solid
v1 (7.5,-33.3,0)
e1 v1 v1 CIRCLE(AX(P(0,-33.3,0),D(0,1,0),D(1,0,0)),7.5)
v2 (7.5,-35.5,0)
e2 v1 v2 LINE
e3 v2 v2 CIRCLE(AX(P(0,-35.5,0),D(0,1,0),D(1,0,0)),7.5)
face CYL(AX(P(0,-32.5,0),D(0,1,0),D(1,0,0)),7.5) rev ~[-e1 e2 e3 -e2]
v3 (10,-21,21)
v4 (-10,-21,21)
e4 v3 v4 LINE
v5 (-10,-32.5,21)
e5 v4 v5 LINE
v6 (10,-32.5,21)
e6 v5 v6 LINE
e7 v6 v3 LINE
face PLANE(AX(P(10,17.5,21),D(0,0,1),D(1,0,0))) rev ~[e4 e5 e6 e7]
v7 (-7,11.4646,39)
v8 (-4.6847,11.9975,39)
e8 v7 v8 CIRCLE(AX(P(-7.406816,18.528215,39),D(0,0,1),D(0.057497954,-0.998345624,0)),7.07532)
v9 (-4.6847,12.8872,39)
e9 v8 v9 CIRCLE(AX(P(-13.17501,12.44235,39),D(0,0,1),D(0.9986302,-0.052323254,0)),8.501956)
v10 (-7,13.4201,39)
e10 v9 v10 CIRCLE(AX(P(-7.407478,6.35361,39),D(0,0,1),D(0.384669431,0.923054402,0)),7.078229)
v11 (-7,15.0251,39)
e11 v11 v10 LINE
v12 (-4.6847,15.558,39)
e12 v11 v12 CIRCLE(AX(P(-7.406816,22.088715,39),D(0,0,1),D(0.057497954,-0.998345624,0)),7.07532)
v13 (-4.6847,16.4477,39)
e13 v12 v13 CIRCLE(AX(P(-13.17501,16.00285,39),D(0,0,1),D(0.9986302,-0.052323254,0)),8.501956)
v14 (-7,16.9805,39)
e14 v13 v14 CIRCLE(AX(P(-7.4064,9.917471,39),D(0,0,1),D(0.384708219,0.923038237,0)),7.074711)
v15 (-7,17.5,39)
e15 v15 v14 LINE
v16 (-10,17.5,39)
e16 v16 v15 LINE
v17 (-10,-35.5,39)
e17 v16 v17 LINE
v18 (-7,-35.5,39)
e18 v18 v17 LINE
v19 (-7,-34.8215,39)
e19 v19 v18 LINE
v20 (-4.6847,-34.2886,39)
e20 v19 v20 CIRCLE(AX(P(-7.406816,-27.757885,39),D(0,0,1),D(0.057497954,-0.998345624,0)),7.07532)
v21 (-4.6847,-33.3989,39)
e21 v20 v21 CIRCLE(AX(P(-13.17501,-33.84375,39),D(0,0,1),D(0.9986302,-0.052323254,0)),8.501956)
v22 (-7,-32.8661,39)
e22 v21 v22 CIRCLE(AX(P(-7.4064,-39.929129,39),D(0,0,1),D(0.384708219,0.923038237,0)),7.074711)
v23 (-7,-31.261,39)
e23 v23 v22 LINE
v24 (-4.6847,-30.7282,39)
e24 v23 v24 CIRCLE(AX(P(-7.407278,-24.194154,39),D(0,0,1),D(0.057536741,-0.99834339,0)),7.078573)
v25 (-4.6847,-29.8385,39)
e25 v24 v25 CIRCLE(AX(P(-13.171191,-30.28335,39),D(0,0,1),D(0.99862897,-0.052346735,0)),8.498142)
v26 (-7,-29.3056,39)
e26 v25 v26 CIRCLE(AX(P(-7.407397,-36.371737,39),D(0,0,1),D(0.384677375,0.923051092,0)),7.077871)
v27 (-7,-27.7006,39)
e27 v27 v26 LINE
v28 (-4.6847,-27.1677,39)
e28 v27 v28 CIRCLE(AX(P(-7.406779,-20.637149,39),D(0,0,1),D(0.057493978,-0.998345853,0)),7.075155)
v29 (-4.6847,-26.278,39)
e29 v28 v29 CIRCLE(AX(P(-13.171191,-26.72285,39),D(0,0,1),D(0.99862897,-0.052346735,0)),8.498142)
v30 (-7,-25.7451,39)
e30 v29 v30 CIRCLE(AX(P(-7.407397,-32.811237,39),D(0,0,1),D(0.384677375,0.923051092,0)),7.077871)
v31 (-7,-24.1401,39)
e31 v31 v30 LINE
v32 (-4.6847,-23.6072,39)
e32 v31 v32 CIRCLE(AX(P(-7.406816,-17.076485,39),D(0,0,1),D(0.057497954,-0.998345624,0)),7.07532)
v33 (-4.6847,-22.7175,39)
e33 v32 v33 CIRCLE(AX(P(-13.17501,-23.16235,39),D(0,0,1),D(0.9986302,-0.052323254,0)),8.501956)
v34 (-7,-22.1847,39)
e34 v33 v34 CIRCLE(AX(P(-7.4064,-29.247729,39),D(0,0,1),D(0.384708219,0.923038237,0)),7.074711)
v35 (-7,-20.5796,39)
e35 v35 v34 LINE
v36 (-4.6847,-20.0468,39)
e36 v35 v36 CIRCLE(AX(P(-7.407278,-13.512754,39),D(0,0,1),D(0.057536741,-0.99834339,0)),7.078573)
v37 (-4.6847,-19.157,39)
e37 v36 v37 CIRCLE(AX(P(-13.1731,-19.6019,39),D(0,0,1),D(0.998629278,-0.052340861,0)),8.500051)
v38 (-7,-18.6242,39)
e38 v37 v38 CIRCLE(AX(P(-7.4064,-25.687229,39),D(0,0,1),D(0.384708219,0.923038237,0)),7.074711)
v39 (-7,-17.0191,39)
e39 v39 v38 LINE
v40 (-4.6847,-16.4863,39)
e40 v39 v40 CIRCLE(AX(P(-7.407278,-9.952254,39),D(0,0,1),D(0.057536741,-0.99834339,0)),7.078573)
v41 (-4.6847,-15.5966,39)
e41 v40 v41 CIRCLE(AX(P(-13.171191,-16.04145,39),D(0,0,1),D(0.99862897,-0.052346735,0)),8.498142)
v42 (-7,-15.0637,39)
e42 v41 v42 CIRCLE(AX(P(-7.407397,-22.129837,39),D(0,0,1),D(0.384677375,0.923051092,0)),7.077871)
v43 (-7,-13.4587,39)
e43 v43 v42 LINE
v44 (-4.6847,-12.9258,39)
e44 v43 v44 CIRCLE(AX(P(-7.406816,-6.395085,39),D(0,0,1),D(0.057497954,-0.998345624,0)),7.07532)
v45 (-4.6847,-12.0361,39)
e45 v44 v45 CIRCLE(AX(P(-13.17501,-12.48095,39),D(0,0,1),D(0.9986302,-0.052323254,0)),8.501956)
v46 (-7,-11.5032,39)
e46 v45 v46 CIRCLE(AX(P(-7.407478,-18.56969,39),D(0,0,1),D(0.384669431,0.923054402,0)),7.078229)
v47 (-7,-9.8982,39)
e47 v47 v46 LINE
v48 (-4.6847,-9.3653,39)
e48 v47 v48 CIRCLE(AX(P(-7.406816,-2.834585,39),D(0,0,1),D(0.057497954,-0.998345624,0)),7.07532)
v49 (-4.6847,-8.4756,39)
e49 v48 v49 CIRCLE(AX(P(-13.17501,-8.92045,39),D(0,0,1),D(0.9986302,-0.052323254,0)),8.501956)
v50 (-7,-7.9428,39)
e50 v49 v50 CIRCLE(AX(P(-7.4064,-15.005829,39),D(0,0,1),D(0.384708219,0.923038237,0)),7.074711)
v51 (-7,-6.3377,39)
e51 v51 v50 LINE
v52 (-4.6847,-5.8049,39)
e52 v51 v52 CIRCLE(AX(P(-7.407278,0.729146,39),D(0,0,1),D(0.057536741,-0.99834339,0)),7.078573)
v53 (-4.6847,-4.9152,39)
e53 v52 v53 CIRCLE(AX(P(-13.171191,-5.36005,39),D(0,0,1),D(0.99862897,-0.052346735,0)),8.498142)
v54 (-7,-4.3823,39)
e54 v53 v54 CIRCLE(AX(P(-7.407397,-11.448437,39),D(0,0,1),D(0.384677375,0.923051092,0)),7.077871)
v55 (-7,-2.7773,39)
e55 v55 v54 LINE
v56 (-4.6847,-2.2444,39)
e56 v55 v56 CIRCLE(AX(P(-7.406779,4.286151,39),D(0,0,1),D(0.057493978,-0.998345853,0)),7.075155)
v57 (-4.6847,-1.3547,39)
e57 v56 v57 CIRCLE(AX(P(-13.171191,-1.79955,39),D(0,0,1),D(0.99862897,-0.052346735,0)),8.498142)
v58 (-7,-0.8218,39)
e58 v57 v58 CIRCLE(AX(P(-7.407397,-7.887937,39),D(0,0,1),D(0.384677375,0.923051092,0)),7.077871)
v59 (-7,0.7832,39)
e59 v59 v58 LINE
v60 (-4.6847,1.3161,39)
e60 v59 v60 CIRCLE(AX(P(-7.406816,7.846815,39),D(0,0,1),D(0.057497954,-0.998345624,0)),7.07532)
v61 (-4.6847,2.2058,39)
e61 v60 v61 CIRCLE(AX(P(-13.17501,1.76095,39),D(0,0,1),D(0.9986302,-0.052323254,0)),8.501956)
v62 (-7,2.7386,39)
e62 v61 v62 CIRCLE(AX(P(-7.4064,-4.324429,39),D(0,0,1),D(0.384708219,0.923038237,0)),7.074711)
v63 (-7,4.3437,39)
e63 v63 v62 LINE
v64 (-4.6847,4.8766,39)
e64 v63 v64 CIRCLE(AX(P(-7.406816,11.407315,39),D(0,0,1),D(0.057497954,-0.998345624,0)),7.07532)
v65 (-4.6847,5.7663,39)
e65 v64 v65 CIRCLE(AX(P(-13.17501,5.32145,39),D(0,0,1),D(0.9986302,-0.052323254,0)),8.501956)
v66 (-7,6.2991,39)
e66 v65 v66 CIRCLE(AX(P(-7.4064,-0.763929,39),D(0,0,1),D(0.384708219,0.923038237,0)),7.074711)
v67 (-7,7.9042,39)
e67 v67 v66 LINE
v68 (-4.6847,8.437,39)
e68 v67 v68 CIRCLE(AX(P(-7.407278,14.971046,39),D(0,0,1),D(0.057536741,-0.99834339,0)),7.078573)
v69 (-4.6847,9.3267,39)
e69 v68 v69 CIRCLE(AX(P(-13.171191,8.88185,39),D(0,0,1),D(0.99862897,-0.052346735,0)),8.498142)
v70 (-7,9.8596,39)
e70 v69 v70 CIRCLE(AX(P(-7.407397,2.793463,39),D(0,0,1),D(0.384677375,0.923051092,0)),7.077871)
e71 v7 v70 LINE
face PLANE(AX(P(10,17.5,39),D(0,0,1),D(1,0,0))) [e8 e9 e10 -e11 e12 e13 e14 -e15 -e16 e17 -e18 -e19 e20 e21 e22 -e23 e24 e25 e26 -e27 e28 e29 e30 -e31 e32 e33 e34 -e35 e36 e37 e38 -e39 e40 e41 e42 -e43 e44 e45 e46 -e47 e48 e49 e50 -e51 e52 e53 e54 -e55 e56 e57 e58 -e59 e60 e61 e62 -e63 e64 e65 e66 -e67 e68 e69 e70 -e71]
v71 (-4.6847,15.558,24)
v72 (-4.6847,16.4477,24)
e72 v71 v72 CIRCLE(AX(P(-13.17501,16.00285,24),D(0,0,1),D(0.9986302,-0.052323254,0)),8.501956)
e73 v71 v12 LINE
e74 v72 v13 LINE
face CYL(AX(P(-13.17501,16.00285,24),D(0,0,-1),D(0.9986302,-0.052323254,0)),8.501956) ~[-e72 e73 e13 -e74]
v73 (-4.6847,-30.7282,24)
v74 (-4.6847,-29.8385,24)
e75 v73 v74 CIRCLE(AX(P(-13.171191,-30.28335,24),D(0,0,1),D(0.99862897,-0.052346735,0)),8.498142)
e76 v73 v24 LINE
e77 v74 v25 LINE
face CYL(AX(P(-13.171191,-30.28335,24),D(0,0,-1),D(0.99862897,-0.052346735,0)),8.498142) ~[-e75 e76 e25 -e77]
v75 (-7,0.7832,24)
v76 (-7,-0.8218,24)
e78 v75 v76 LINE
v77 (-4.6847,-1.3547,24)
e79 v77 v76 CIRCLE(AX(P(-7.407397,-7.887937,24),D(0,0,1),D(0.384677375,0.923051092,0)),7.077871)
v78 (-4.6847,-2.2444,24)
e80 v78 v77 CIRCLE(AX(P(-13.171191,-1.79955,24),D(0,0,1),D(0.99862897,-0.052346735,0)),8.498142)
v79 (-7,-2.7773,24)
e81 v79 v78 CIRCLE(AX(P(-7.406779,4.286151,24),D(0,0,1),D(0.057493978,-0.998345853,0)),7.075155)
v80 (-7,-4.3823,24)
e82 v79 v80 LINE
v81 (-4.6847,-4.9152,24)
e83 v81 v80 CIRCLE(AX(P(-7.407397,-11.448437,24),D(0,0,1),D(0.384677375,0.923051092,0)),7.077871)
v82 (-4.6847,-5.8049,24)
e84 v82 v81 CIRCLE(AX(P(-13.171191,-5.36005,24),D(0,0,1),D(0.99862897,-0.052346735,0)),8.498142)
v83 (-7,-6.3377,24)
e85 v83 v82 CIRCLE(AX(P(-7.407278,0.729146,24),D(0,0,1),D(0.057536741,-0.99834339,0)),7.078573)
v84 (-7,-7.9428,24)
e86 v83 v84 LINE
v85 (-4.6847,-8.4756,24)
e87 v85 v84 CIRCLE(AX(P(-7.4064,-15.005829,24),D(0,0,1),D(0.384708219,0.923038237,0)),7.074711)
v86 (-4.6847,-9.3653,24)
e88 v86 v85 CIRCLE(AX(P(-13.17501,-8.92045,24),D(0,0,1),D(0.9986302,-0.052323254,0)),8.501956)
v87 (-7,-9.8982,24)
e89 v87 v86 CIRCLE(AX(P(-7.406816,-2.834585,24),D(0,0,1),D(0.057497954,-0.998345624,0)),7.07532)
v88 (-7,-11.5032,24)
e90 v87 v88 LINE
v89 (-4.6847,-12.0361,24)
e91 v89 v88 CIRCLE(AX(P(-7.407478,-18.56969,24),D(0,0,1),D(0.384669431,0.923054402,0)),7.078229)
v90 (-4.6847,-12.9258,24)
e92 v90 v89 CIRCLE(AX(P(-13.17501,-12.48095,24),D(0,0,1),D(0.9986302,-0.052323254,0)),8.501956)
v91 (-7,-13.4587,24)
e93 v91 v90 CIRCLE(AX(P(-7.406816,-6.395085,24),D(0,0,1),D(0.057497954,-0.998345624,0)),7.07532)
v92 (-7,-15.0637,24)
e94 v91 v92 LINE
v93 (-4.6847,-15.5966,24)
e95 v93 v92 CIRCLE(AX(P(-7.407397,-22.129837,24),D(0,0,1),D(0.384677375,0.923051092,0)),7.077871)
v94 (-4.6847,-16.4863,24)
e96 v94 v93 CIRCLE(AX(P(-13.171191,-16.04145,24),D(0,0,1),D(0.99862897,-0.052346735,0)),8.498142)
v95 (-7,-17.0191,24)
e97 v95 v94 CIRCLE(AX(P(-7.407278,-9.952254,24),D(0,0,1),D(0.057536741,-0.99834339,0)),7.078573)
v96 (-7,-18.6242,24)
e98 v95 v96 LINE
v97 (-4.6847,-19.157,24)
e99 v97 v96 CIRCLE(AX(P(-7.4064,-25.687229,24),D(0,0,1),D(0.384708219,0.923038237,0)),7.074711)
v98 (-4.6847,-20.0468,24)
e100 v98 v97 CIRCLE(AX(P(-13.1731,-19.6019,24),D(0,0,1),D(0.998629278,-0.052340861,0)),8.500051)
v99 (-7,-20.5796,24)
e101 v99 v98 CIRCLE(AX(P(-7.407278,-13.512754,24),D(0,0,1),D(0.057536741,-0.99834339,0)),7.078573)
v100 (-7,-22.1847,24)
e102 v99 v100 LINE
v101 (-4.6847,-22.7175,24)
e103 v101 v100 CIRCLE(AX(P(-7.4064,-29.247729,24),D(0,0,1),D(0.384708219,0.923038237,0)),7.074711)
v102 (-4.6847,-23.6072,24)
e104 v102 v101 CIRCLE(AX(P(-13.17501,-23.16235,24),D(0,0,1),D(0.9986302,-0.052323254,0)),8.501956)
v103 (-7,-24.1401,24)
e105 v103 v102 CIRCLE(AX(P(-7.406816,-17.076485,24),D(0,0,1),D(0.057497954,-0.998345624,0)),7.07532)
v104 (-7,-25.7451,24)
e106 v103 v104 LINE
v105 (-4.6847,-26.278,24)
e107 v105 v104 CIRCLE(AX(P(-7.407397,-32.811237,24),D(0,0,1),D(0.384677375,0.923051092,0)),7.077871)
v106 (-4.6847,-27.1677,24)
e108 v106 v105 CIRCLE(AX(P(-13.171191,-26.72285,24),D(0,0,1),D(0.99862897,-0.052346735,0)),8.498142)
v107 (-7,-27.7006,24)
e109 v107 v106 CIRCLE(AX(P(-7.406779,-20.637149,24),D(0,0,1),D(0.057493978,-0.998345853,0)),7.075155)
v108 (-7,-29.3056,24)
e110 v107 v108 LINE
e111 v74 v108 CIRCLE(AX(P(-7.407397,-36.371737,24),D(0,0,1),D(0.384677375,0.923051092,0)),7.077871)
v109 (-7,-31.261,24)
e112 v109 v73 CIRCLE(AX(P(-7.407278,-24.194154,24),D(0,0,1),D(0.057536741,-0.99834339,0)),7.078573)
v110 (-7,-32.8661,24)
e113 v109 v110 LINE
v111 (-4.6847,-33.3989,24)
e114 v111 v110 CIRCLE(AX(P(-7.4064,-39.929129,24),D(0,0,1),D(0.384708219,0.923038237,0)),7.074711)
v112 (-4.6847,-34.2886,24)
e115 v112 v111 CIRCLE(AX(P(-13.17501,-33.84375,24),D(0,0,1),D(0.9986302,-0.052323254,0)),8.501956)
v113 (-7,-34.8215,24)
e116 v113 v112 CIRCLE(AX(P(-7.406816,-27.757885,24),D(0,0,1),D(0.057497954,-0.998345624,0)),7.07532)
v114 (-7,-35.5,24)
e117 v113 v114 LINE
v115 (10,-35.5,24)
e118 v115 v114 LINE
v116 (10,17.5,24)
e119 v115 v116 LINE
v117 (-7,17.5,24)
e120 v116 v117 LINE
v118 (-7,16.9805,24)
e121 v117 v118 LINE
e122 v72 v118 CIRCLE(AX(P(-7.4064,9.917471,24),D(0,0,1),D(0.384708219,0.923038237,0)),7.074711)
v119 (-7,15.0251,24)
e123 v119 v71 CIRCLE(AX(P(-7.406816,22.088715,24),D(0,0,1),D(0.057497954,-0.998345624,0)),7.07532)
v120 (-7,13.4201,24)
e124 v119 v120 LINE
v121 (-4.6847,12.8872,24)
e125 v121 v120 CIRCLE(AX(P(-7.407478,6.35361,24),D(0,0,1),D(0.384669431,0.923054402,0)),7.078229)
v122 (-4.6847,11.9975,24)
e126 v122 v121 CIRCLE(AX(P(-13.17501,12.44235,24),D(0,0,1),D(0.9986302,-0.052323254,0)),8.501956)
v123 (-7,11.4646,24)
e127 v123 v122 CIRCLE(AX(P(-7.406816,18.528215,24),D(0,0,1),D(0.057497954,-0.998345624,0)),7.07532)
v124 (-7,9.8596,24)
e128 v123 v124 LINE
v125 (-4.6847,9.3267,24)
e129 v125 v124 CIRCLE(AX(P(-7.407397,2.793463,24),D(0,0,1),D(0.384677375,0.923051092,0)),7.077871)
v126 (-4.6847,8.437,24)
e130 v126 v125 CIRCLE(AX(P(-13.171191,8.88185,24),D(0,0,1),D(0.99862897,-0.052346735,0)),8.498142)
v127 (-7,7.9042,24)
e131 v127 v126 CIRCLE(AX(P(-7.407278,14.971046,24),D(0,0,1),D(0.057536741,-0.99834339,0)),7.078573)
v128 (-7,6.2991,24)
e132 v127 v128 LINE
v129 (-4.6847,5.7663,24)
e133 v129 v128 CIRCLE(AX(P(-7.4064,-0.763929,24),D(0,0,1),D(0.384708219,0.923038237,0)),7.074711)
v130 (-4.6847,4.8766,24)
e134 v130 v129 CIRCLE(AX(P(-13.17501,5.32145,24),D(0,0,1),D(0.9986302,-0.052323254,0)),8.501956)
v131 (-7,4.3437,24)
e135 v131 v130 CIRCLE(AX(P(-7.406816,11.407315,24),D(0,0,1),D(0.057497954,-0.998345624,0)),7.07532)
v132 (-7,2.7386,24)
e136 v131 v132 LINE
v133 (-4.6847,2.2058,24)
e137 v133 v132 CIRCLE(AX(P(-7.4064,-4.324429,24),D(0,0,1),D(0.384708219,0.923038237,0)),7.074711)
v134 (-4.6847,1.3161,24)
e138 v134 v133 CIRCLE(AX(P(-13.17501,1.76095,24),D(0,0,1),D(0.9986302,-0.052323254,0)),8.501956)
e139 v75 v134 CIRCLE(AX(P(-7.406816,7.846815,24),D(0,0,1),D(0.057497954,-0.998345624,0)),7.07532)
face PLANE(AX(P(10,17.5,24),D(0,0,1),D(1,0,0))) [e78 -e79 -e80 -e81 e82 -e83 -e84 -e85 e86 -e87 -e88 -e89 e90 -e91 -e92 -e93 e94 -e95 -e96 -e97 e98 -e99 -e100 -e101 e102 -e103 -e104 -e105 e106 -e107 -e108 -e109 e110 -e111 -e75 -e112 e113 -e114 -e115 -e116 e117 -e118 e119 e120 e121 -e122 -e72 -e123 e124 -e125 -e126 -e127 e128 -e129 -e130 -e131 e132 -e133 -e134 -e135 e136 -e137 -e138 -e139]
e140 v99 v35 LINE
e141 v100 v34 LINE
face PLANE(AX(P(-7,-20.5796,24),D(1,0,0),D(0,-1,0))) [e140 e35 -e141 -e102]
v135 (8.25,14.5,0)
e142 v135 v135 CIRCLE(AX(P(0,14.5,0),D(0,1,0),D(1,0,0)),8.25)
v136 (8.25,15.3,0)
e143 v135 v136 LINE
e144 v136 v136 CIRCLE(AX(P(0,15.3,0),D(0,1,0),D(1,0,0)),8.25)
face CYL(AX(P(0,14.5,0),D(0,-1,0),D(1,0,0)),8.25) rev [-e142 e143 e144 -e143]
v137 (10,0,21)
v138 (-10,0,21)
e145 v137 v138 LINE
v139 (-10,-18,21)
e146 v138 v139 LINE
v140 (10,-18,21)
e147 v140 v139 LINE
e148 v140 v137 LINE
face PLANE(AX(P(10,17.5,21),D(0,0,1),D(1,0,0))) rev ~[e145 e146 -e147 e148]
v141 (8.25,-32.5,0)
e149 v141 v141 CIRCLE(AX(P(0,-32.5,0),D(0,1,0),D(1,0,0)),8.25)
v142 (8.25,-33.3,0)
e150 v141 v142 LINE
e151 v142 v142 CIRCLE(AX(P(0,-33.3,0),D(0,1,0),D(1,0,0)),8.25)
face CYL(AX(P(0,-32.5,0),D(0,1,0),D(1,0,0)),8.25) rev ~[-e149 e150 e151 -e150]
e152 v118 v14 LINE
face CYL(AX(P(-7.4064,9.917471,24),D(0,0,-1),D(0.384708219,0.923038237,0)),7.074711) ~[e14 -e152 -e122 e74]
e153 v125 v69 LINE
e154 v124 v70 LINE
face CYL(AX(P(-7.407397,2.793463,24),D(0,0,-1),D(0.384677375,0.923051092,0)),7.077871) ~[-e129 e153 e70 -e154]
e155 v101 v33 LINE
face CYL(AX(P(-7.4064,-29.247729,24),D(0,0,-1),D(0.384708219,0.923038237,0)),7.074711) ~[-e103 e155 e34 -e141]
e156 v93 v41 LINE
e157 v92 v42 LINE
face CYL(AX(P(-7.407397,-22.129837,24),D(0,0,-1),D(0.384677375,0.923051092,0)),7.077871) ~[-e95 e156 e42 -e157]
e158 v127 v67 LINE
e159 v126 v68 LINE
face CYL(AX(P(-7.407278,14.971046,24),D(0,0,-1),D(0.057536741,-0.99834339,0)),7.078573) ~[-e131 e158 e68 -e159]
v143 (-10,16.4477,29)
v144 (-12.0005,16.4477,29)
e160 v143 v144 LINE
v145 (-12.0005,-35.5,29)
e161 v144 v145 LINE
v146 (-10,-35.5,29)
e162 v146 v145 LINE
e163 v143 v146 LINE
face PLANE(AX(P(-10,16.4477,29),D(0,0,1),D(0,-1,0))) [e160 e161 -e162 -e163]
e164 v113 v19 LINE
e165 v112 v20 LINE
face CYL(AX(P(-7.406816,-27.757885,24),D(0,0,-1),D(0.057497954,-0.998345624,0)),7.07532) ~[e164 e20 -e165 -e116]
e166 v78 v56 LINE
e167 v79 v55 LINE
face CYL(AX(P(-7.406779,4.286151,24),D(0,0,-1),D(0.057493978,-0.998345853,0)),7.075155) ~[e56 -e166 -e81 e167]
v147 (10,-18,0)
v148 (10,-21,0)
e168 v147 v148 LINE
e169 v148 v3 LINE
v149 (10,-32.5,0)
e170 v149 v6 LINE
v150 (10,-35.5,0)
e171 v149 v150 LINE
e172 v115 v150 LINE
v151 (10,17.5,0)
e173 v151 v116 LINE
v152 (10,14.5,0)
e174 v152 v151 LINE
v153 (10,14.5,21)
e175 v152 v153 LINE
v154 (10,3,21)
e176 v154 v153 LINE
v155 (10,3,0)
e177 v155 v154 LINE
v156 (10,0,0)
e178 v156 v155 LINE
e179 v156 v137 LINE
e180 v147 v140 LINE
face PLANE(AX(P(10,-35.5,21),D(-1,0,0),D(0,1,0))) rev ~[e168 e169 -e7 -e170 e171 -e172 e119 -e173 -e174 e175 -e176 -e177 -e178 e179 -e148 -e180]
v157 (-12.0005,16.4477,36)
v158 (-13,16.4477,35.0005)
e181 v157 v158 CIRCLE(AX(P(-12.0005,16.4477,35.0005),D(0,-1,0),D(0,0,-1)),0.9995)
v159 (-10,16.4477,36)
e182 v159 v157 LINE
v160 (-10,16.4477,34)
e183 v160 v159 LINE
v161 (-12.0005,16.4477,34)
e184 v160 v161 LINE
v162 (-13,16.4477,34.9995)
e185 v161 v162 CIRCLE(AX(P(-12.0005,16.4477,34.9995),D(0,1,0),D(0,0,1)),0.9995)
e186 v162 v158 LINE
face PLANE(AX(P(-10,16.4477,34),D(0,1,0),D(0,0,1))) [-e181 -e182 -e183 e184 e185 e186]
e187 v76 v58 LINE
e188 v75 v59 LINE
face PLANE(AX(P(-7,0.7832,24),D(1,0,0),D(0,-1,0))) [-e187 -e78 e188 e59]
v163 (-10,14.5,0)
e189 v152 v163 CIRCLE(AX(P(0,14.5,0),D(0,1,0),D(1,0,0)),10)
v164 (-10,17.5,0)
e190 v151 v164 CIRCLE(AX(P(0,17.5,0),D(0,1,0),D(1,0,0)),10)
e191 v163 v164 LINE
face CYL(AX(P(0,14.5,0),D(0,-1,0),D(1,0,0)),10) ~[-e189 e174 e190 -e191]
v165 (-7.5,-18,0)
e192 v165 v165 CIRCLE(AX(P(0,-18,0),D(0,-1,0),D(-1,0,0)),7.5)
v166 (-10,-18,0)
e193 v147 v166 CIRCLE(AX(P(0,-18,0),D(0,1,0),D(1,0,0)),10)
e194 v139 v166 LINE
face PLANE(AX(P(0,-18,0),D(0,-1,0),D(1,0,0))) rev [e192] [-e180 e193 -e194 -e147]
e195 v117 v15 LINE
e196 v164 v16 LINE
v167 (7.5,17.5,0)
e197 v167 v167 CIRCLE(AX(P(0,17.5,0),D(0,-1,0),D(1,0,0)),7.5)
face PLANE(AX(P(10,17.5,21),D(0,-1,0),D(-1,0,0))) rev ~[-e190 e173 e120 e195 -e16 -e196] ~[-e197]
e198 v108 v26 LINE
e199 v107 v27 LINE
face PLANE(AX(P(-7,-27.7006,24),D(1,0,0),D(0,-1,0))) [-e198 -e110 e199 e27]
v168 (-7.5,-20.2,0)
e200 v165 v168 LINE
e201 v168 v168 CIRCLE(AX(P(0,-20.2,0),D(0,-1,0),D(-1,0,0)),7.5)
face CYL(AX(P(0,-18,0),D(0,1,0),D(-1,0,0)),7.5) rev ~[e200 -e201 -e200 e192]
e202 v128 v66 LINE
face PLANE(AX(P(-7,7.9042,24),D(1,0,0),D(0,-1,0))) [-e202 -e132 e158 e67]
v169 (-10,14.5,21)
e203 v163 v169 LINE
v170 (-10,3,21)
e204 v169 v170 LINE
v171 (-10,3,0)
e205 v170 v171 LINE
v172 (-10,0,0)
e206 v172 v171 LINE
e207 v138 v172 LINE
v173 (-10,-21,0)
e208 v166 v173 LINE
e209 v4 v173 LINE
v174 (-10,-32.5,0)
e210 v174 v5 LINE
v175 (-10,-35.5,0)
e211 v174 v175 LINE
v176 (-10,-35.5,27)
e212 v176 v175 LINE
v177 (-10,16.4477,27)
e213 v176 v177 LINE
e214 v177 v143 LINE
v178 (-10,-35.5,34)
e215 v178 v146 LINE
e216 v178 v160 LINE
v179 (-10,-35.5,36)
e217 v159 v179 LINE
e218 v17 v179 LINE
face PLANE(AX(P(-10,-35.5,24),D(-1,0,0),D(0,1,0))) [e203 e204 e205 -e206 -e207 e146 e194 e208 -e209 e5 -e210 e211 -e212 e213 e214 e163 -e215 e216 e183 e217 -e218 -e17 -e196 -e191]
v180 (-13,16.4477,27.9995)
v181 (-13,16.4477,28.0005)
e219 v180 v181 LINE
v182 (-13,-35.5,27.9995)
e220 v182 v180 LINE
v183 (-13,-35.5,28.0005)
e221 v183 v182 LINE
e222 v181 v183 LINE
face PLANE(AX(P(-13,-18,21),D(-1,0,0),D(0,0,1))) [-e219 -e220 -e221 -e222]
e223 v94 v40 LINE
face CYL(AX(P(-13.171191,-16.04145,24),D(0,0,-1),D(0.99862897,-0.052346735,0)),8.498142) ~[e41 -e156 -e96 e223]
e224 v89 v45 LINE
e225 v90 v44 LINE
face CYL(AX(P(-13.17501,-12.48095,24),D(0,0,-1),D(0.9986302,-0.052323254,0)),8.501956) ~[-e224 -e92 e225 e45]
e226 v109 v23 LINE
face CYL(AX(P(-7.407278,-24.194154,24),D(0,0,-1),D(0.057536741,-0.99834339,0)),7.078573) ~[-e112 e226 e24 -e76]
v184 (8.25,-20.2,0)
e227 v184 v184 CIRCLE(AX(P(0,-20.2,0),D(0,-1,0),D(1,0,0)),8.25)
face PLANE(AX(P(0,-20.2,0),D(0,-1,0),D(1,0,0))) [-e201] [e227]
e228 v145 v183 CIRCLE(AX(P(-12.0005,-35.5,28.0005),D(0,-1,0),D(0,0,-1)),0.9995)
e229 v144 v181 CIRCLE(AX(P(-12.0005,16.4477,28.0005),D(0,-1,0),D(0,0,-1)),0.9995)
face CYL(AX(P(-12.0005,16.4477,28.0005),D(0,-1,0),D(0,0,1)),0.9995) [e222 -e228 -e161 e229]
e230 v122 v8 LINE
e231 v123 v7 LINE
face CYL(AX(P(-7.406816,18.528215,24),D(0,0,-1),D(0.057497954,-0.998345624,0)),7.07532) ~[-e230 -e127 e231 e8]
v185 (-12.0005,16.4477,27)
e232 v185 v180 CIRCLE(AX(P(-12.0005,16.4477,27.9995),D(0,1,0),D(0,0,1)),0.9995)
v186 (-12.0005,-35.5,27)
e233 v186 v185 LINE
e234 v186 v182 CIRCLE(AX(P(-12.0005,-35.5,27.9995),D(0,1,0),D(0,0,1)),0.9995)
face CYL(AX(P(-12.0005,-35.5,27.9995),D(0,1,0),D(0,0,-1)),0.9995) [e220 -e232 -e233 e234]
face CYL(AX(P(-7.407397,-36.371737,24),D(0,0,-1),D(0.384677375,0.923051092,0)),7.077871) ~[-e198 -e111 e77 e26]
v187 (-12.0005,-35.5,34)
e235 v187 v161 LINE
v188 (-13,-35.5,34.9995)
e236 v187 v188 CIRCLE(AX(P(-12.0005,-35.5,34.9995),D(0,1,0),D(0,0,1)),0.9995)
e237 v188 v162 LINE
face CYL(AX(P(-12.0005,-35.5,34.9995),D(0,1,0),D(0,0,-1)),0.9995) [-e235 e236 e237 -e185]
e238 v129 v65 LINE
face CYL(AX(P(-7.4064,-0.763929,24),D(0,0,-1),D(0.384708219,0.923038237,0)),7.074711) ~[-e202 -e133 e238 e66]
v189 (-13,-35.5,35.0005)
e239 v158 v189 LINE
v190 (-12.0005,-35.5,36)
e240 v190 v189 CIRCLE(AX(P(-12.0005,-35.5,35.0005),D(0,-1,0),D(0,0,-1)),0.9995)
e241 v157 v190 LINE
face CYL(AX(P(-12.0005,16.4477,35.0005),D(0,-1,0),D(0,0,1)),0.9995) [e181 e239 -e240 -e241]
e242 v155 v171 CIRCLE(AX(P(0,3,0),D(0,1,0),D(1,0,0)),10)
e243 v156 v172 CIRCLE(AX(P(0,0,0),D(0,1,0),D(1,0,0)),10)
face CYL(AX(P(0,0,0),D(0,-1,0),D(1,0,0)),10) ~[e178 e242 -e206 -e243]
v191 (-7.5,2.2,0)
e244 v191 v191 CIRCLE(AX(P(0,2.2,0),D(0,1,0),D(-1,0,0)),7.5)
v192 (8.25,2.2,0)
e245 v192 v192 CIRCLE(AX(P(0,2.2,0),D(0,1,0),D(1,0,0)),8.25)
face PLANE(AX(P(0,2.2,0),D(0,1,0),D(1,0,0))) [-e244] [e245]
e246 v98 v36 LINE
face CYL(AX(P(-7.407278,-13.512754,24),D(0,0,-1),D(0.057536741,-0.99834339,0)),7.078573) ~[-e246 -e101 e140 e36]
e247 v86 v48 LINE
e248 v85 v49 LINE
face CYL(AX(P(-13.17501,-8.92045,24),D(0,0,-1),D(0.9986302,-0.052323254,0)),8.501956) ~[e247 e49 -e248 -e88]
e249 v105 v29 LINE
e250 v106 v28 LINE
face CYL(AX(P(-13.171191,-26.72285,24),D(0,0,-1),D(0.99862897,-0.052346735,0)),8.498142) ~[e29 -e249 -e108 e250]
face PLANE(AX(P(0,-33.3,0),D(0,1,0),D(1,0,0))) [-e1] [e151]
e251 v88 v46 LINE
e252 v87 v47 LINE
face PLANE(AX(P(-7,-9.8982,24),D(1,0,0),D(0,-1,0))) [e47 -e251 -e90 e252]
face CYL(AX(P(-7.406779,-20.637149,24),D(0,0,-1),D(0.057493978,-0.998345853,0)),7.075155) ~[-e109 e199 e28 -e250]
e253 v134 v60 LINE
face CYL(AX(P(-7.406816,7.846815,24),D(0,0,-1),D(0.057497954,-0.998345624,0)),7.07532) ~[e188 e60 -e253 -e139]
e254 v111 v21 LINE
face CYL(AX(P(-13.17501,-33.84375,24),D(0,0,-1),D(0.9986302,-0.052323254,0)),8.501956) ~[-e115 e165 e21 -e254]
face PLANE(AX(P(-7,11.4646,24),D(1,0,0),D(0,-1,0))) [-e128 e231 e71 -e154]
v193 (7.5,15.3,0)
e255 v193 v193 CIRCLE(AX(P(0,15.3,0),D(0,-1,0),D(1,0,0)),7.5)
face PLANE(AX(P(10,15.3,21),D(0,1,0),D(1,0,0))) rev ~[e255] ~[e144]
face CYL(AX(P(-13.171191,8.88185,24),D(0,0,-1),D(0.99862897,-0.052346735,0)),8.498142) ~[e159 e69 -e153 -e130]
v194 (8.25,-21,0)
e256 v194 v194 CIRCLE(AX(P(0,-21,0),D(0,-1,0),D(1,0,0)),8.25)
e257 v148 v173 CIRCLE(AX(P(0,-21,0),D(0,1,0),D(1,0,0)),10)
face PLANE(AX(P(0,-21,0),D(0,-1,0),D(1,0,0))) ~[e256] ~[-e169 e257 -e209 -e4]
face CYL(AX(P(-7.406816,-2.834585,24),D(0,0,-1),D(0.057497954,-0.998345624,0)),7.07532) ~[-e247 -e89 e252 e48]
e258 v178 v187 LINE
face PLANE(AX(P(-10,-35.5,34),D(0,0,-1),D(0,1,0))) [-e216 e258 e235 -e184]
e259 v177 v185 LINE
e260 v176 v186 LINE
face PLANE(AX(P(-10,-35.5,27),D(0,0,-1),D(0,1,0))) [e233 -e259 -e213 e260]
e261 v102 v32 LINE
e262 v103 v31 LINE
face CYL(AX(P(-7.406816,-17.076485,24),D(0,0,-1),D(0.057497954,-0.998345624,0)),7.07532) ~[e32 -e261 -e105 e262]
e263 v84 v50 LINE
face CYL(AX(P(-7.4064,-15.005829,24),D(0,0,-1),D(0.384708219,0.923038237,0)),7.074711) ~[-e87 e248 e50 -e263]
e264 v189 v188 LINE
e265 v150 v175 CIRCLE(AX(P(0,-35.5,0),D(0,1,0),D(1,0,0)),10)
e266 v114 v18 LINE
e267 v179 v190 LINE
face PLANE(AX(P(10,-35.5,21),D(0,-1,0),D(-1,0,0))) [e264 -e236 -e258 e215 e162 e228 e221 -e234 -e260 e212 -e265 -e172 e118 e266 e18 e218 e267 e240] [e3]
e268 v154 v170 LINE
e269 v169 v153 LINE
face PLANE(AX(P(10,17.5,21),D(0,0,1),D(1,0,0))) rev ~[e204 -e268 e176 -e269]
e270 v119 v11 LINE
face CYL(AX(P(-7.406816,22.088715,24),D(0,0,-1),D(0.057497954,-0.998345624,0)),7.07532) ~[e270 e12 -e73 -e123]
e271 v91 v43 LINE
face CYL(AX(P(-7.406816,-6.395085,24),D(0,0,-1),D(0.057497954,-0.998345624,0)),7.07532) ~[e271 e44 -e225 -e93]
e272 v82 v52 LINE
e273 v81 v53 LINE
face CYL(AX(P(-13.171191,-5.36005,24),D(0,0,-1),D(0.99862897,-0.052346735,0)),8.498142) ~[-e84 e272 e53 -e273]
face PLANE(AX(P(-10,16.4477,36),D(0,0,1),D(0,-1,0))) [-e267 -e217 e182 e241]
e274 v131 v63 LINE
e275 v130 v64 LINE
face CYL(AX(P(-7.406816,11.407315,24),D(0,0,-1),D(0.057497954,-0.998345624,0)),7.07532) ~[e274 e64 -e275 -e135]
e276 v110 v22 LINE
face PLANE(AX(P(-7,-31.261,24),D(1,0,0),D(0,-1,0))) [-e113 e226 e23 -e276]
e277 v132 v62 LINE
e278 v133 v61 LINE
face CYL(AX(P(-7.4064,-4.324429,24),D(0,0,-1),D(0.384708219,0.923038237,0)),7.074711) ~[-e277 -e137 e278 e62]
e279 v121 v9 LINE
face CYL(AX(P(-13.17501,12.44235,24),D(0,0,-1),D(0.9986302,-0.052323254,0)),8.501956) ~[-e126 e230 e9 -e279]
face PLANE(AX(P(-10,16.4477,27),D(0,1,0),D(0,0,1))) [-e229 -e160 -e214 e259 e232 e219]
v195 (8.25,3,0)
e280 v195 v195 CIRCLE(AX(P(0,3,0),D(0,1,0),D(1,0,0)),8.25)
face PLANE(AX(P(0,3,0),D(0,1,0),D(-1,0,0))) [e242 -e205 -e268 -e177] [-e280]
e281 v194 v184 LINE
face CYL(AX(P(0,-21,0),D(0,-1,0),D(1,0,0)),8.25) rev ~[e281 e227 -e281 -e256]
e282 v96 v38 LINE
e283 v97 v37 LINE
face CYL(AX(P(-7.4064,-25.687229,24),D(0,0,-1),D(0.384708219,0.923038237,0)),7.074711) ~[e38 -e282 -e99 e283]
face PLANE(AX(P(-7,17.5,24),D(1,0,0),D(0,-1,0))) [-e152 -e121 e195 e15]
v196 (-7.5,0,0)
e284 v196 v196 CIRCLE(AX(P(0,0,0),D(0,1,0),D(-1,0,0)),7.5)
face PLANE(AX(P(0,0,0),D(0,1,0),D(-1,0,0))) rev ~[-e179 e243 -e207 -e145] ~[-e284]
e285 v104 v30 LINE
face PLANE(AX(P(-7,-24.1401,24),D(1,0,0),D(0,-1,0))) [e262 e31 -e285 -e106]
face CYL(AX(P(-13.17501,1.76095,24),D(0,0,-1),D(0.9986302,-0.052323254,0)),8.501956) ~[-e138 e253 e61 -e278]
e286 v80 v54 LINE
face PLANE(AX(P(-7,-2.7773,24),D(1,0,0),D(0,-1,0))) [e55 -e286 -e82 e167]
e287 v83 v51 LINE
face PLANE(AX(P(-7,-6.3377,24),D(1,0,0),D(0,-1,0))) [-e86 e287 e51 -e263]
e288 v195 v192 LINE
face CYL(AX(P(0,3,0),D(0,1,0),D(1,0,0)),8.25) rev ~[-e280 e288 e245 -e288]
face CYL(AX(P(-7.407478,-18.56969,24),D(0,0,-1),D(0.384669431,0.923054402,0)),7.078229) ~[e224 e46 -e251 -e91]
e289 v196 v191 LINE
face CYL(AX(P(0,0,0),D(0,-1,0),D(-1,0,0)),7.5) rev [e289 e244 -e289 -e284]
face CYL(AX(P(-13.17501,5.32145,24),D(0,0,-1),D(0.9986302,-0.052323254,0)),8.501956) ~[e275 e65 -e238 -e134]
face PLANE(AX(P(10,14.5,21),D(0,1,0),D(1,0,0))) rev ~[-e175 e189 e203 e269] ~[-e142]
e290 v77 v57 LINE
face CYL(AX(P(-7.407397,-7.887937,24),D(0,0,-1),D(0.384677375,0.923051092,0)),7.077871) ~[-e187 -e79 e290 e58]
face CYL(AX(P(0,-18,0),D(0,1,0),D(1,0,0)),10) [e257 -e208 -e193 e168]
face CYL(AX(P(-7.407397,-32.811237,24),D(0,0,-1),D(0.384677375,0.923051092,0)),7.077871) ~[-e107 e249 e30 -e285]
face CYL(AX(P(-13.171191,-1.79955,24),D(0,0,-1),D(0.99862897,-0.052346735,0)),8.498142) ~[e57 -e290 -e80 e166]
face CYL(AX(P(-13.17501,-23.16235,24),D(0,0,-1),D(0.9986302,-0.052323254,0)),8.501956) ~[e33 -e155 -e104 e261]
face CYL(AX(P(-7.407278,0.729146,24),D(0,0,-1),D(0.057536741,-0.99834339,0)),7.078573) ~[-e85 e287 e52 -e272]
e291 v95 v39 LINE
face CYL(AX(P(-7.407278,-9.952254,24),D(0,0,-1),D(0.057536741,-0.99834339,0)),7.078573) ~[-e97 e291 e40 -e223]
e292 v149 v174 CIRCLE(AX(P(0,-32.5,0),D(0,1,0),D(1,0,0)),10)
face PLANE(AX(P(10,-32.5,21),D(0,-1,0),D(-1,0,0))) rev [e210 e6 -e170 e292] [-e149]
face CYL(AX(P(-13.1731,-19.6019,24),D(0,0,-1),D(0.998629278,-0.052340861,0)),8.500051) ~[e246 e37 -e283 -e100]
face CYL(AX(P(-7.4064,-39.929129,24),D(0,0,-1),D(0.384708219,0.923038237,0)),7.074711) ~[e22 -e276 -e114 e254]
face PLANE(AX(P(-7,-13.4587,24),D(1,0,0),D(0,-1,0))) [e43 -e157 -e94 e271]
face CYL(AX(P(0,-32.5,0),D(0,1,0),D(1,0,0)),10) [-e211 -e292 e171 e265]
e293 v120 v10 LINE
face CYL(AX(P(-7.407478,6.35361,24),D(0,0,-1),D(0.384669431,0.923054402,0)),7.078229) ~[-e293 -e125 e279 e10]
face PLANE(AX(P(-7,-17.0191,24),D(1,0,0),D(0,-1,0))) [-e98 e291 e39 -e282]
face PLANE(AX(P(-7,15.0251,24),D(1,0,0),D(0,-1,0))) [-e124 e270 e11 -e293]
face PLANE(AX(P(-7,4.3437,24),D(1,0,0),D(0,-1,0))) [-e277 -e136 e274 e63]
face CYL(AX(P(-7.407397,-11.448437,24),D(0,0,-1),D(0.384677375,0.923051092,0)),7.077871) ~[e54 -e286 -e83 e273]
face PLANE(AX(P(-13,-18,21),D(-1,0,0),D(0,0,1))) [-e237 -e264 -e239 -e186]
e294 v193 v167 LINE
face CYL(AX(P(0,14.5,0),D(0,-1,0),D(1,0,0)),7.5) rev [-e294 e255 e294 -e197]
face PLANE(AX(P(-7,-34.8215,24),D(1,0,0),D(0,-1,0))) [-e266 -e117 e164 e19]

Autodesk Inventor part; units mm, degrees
sketch "Skizze1" plane through (0, 0, 0) normal (0, 1, 0) x (-1, 0, 0)
  circle A0 centre (0, 0) radius 7.5
  arc A1 (-10, 0) -> (10, 0) centre (0, 0) ccw
  line L0 (7.5, 0) -> (-7.5, 0)
  line L1 (-10, 0) -> (-10, 21)
  line L2 (-10, 21) -> (10, 21)
  line L3 (10, 21) -> (10, 0)
  dimension "d0" = 15
  dimension "d1" = 20
  dimension "d2" = 21
extrude "Extrusion1" add sketch "Skizze1" along normal blind 3
sketch "Skizze2" plane through (0, 3, 0) normal (0, 1, 0) x (1, 0, 0)
  circle A0 centre (0, 0) radius 8.25
  dimension "d5" = 16.5
extrude "Extrusion2" cut sketch "Skizze2" against normal blind 0.8
ref_plane "Arbeitsebene2" through (10, 14.5, 21) normal (0, 1, 0) x (1, 0, 0)
ref_plane "Arbeitsebene1" through (10, 3, 21) normal (0, 1, 0) x (1, 0, 0)
sketch "Skizze3" plane through (10, 14.5, 21) normal (0, 1, 0) x (1, 0, 0)
  circle A0 centre (-10, 21) radius 7.5
  arc A1 (0, 21) -> (-20, 21) centre (-10, 21) ccw projected
  arc A2 (0, 21) -> (-20, 21) centre (-10, 21) ccw
  line L0 (-20, 21) -> (-20, 0) projected
  line L1 (-20, 0) -> (0, 0) projected
  line L2 (-17.5, 21) -> (-2.5, 21)
  line L3 (0, 21) -> (0, 0)
  line L4 (0, 0) -> (-20, 0)
  line L5 (-20, 0) -> (-20, 21)
  dimension "d9" = 15
extrude "Extrusion3" add sketch "Skizze3" along normal blind 3
sketch "Skizze4" plane through (10, 14.5, 21) normal (0, 1, 0) x (1, 0, 0)
  circle A0 centre (-10, 21) radius 8.25
  dimension "d12" = 16.5
extrude "Extrusion4" cut sketch "Skizze4" along normal blind 0.8
ref_plane "Arbeitsebene3" through (0, -9, 0) normal (0, 1, 0) x (-1, 0, 0)
sketch "Skizze5" plane through (0, -9, 0) normal (0, 1, 0) x (-1, 0, 0)
  point P0 (0, 0)
mirror "Spiegeln1" about plane through (0, -9, 0) normal (0, 1, 0) of "Extrusion3", "Extrusion1"
sketch "Skizze6" plane through (0, -21, 0) normal (0, -1, 0) x (1, 0, 0)
  circle A0 centre (0, 0) radius 8.25
  dimension "d16" = 16.5
extrude "Extrusion5" cut sketch "Skizze6" against normal blind 0.8
sketch "Skizze7" plane through (0, -32.5, 0) normal (0, 1, 0) x (1, 0, 0)
  circle A0 centre (0, 0) radius 8.25
  dimension "d19" = 16.5
extrude "Extrusion6" cut sketch "Skizze7" against normal blind 0.8
ref_plane "Arbeitsebene4" through (10, 17.5, 21) normal (0, 0, 1) x (1, 0, 0)
sketch "Skizze8" plane through (10, 17.5, 21) normal (0, 0, 1) x (1, 0, 0)
  line L0 (0, 0) -> (-20, 0) projected
  line L1 (0, -53) -> (-20, -53) projected
  line L2 (0, 0) -> (-20, 0)
  line L3 (-20, 0) -> (-20, -53)
  line L4 (-20, -53) -> (0, -53)
  line L5 (0, -53) -> (0, 0)
  point P0 (-10, -17.5)
extrude "Extrusion7" add sketch "Skizze8" along normal blind 3
sketch "Skizze9" plane through (10, 17.5, 24) normal (0, 0, 1) x (1, 0, 0)
  arc A0 (-14.6847, -1.0523) -> (-17, -0.5195) centre (-17.407, -7.5844) ccw
  arc A1 (-14.6847, -1.942) -> (-14.6847, -1.0523) centre (-23.1731, -1.4972) ccw
  arc A2 (-17, -2.4749) -> (-14.6847, -1.942) centre (-17.407, 4.59) ccw
  line L0 (-17, -0.5195) -> (-17, 0) construction
  line L1 (-20, -3) -> (-20, 0) projected
  line L2 (0, -53) -> (-20, -53) projected
  line L3 (-20, 0) -> (-17, 0)
  line L4 (-17, -53) -> (-20, -53)
  line L5 (-20, -53) -> (-20, 0)
  arc A3 (-17, -6.0354) -> (-14.6847, -5.5025) centre (-17.407, 1.0295) ccw
  arc A4 (-14.6847, -5.5025) -> (-14.6847, -4.6128) centre (-23.1731, -5.0577) ccw
  arc A5 (-14.6847, -4.6128) -> (-17, -4.0799) centre (-17.407, -11.1449) ccw
  arc A6 (-17, -9.5958) -> (-14.6847, -9.063) centre (-17.407, -2.5309) ccw
  arc A7 (-14.6847, -9.063) -> (-14.6847, -8.1733) centre (-23.1731, -8.6181) ccw
  arc A8 (-14.6847, -8.1733) -> (-17, -7.6404) centre (-17.407, -14.7053) ccw
  arc A9 (-17, -13.1563) -> (-14.6847, -12.6234) centre (-17.407, -6.0914) ccw
  arc A10 (-14.6847, -12.6234) -> (-14.6847, -11.7337) centre (-23.1731, -12.1786) ccw
  arc A11 (-14.6847, -11.7337) -> (-17, -11.2009) centre (-17.407, -18.2658) ccw
  arc A12 (-17, -16.7168) -> (-14.6847, -16.1839) centre (-17.407, -9.6519) ccw
  arc A13 (-14.6847, -16.1839) -> (-14.6847, -15.2942) centre (-23.1731, -15.7391) ccw
  arc A14 (-14.6847, -15.2942) -> (-17, -14.7614) centre (-17.407, -21.8263) ccw
  arc A15 (-17, -20.2773) -> (-14.6847, -19.7444) centre (-17.407, -13.2123) ccw
  arc A16 (-14.6847, -19.7444) -> (-14.6847, -18.8547) centre (-23.1731, -19.2995) ccw
  arc A17 (-14.6847, -18.8547) -> (-17, -18.3218) centre (-17.407, -25.3867) ccw
  arc A18 (-17, -23.8377) -> (-14.6847, -23.3049) centre (-17.407, -16.7728) ccw
  arc A19 (-14.6847, -23.3049) -> (-14.6847, -22.4152) centre (-23.1731, -22.86) ccw
  arc A20 (-14.6847, -22.4152) -> (-17, -21.8823) centre (-17.407, -28.9472) ccw
  arc A21 (-17, -27.3982) -> (-14.6847, -26.8653) centre (-17.407, -20.3333) ccw
  arc A22 (-14.6847, -26.8653) -> (-14.6847, -25.9756) centre (-23.1731, -26.4205) ccw
  arc A23 (-14.6847, -25.9756) -> (-17, -25.4428) centre (-17.407, -32.5077) ccw
  arc A24 (-17, -30.9587) -> (-14.6847, -30.4258) centre (-17.407, -23.8938) ccw
  arc A25 (-14.6847, -30.4258) -> (-14.6847, -29.5361) centre (-23.1731, -29.981) ccw
  arc A26 (-14.6847, -29.5361) -> (-17, -29.0032) centre (-17.407, -36.0682) ccw
  arc A27 (-17, -34.5191) -> (-14.6847, -33.9863) centre (-17.407, -27.4542) ccw
  arc A28 (-14.6847, -33.9863) -> (-14.6847, -33.0966) centre (-23.1731, -33.5414) ccw
  arc A29 (-14.6847, -33.0966) -> (-17, -32.5637) centre (-17.407, -39.6286) ccw
  arc A30 (-17, -38.0796) -> (-14.6847, -37.5468) centre (-17.407, -31.0147) ccw
  arc A31 (-14.6847, -37.5468) -> (-14.6847, -36.657) centre (-23.1731, -37.1019) ccw
  arc A32 (-14.6847, -36.657) -> (-17, -36.1242) centre (-17.407, -43.1891) ccw
  arc A33 (-17, -41.6401) -> (-14.6847, -41.1072) centre (-17.407, -34.5752) ccw
  arc A34 (-14.6847, -41.1072) -> (-14.6847, -40.2175) centre (-23.1731, -40.6624) ccw
  arc A35 (-14.6847, -40.2175) -> (-17, -39.6847) centre (-17.407, -46.7496) ccw
  arc A36 (-17, -45.2006) -> (-14.6847, -44.6677) centre (-17.407, -38.1356) ccw
  arc A37 (-14.6847, -44.6677) -> (-14.6847, -43.778) centre (-23.1731, -44.2228) ccw
  arc A38 (-14.6847, -43.778) -> (-17, -43.2451) centre (-17.407, -50.31) ccw
  arc A39 (-17, -48.761) -> (-14.6847, -48.2282) centre (-17.407, -41.6961) ccw
  arc A40 (-14.6847, -48.2282) -> (-14.6847, -47.3385) centre (-23.1731, -47.7833) ccw
  arc A41 (-14.6847, -47.3385) -> (-17, -46.8056) centre (-17.407, -53.8705) ccw
  arc A42 (-17, -52.3215) -> (-14.6847, -51.7886) centre (-17.407, -45.2566) ccw
  arc A43 (-14.6847, -51.7886) -> (-14.6847, -50.8989) centre (-23.1731, -51.3438) ccw
  arc A44 (-14.6847, -50.8989) -> (-17, -50.3661) centre (-17.407, -57.431) ccw
  line L6 (-17, 0) -> (-17, -0.5195)
  line L7 (-17, -2.4749) -> (-17, -4.0799)
  line L8 (-17, -6.0354) -> (-17, -7.6404)
  line L9 (-17, -9.5958) -> (-17, -11.2009)
  line L10 (-17, -13.1563) -> (-17, -14.7614)
  line L11 (-17, -16.7168) -> (-17, -18.3218)
  line L12 (-17, -20.2773) -> (-17, -21.8823)
  line L13 (-17, -23.8377) -> (-17, -25.4428)
  line L14 (-17, -27.3982) -> (-17, -29.0032)
  line L15 (-17, -30.9587) -> (-17, -32.5637)
  line L16 (-17, -34.5191) -> (-17, -36.1242)
  line L17 (-17, -38.0796) -> (-17, -39.6847)
  line L18 (-17, -41.6401) -> (-17, -43.2451)
  line L19 (-17, -45.2006) -> (-17, -46.8056)
  line L20 (-17, -48.761) -> (-17, -50.3661)
  line L21 (-17, -52.3215) -> (-17, -53)
  point P0 (-10, -17.5)
  dimension "d30" = 10
  dimension "d24" = 3
  dimension "d27" = 3.5605
extrude "Extrusion8" add sketch "Skizze9" along normal blind 15
sketch "Skizze10" plane through (-10, -18, 21) normal (-1, 0, 0) x (0, 0, 1)
  line L0 (15, -17.5) -> (13, -17.5)
  line L1 (13, -17.5) -> (13, 35.5)
  line L2 (13, 35.5) -> (15, 35.5)
  line L3 (15, 35.5) -> (15, -17.5)
  line L4 (8, -17.5) -> (6, -17.5)
  line L5 (6, -17.5) -> (6, 35.5)
  line L6 (6, 35.5) -> (8, 35.5)
  line L7 (8, 35.5) -> (8, -17.5)
  line L8 (10.5, -63.5631) -> (10.5, -1.5631) construction
  line L9 (18, 35.5) -> (18, -17.5) projected
  line L10 (3, 34.4477) -> (18, 34.4477) projected
  line L11 (-21, 35.5) -> (18, 35.5) projected
  line L12 (-21, -17.5) -> (18, -17.5) projected
  point P0 (-21, 18)
  point P1 (15, 34.4477)
  point P2 (13, 34.4477)
  point P3 (8, 34.4477)
  point P4 (6, 34.4477)
  dimension "d34" = 2
  dimension "d36" = 5
  dimension "d37" = 7.5
extrude "Extrusion9" add sketch "Skizze10" along normal blind 3 contours L0 L1 L10 L3 | L4 L5 L10 L7
fillet "Rundung1" radius 1 4 edges at (-13, -9.5262, 27) (-13, -9.5262, 29) (-13, -9.5262, 34) (-13, -9.5262, 36)
properties part number "Wechsel_Schiebeteil"
